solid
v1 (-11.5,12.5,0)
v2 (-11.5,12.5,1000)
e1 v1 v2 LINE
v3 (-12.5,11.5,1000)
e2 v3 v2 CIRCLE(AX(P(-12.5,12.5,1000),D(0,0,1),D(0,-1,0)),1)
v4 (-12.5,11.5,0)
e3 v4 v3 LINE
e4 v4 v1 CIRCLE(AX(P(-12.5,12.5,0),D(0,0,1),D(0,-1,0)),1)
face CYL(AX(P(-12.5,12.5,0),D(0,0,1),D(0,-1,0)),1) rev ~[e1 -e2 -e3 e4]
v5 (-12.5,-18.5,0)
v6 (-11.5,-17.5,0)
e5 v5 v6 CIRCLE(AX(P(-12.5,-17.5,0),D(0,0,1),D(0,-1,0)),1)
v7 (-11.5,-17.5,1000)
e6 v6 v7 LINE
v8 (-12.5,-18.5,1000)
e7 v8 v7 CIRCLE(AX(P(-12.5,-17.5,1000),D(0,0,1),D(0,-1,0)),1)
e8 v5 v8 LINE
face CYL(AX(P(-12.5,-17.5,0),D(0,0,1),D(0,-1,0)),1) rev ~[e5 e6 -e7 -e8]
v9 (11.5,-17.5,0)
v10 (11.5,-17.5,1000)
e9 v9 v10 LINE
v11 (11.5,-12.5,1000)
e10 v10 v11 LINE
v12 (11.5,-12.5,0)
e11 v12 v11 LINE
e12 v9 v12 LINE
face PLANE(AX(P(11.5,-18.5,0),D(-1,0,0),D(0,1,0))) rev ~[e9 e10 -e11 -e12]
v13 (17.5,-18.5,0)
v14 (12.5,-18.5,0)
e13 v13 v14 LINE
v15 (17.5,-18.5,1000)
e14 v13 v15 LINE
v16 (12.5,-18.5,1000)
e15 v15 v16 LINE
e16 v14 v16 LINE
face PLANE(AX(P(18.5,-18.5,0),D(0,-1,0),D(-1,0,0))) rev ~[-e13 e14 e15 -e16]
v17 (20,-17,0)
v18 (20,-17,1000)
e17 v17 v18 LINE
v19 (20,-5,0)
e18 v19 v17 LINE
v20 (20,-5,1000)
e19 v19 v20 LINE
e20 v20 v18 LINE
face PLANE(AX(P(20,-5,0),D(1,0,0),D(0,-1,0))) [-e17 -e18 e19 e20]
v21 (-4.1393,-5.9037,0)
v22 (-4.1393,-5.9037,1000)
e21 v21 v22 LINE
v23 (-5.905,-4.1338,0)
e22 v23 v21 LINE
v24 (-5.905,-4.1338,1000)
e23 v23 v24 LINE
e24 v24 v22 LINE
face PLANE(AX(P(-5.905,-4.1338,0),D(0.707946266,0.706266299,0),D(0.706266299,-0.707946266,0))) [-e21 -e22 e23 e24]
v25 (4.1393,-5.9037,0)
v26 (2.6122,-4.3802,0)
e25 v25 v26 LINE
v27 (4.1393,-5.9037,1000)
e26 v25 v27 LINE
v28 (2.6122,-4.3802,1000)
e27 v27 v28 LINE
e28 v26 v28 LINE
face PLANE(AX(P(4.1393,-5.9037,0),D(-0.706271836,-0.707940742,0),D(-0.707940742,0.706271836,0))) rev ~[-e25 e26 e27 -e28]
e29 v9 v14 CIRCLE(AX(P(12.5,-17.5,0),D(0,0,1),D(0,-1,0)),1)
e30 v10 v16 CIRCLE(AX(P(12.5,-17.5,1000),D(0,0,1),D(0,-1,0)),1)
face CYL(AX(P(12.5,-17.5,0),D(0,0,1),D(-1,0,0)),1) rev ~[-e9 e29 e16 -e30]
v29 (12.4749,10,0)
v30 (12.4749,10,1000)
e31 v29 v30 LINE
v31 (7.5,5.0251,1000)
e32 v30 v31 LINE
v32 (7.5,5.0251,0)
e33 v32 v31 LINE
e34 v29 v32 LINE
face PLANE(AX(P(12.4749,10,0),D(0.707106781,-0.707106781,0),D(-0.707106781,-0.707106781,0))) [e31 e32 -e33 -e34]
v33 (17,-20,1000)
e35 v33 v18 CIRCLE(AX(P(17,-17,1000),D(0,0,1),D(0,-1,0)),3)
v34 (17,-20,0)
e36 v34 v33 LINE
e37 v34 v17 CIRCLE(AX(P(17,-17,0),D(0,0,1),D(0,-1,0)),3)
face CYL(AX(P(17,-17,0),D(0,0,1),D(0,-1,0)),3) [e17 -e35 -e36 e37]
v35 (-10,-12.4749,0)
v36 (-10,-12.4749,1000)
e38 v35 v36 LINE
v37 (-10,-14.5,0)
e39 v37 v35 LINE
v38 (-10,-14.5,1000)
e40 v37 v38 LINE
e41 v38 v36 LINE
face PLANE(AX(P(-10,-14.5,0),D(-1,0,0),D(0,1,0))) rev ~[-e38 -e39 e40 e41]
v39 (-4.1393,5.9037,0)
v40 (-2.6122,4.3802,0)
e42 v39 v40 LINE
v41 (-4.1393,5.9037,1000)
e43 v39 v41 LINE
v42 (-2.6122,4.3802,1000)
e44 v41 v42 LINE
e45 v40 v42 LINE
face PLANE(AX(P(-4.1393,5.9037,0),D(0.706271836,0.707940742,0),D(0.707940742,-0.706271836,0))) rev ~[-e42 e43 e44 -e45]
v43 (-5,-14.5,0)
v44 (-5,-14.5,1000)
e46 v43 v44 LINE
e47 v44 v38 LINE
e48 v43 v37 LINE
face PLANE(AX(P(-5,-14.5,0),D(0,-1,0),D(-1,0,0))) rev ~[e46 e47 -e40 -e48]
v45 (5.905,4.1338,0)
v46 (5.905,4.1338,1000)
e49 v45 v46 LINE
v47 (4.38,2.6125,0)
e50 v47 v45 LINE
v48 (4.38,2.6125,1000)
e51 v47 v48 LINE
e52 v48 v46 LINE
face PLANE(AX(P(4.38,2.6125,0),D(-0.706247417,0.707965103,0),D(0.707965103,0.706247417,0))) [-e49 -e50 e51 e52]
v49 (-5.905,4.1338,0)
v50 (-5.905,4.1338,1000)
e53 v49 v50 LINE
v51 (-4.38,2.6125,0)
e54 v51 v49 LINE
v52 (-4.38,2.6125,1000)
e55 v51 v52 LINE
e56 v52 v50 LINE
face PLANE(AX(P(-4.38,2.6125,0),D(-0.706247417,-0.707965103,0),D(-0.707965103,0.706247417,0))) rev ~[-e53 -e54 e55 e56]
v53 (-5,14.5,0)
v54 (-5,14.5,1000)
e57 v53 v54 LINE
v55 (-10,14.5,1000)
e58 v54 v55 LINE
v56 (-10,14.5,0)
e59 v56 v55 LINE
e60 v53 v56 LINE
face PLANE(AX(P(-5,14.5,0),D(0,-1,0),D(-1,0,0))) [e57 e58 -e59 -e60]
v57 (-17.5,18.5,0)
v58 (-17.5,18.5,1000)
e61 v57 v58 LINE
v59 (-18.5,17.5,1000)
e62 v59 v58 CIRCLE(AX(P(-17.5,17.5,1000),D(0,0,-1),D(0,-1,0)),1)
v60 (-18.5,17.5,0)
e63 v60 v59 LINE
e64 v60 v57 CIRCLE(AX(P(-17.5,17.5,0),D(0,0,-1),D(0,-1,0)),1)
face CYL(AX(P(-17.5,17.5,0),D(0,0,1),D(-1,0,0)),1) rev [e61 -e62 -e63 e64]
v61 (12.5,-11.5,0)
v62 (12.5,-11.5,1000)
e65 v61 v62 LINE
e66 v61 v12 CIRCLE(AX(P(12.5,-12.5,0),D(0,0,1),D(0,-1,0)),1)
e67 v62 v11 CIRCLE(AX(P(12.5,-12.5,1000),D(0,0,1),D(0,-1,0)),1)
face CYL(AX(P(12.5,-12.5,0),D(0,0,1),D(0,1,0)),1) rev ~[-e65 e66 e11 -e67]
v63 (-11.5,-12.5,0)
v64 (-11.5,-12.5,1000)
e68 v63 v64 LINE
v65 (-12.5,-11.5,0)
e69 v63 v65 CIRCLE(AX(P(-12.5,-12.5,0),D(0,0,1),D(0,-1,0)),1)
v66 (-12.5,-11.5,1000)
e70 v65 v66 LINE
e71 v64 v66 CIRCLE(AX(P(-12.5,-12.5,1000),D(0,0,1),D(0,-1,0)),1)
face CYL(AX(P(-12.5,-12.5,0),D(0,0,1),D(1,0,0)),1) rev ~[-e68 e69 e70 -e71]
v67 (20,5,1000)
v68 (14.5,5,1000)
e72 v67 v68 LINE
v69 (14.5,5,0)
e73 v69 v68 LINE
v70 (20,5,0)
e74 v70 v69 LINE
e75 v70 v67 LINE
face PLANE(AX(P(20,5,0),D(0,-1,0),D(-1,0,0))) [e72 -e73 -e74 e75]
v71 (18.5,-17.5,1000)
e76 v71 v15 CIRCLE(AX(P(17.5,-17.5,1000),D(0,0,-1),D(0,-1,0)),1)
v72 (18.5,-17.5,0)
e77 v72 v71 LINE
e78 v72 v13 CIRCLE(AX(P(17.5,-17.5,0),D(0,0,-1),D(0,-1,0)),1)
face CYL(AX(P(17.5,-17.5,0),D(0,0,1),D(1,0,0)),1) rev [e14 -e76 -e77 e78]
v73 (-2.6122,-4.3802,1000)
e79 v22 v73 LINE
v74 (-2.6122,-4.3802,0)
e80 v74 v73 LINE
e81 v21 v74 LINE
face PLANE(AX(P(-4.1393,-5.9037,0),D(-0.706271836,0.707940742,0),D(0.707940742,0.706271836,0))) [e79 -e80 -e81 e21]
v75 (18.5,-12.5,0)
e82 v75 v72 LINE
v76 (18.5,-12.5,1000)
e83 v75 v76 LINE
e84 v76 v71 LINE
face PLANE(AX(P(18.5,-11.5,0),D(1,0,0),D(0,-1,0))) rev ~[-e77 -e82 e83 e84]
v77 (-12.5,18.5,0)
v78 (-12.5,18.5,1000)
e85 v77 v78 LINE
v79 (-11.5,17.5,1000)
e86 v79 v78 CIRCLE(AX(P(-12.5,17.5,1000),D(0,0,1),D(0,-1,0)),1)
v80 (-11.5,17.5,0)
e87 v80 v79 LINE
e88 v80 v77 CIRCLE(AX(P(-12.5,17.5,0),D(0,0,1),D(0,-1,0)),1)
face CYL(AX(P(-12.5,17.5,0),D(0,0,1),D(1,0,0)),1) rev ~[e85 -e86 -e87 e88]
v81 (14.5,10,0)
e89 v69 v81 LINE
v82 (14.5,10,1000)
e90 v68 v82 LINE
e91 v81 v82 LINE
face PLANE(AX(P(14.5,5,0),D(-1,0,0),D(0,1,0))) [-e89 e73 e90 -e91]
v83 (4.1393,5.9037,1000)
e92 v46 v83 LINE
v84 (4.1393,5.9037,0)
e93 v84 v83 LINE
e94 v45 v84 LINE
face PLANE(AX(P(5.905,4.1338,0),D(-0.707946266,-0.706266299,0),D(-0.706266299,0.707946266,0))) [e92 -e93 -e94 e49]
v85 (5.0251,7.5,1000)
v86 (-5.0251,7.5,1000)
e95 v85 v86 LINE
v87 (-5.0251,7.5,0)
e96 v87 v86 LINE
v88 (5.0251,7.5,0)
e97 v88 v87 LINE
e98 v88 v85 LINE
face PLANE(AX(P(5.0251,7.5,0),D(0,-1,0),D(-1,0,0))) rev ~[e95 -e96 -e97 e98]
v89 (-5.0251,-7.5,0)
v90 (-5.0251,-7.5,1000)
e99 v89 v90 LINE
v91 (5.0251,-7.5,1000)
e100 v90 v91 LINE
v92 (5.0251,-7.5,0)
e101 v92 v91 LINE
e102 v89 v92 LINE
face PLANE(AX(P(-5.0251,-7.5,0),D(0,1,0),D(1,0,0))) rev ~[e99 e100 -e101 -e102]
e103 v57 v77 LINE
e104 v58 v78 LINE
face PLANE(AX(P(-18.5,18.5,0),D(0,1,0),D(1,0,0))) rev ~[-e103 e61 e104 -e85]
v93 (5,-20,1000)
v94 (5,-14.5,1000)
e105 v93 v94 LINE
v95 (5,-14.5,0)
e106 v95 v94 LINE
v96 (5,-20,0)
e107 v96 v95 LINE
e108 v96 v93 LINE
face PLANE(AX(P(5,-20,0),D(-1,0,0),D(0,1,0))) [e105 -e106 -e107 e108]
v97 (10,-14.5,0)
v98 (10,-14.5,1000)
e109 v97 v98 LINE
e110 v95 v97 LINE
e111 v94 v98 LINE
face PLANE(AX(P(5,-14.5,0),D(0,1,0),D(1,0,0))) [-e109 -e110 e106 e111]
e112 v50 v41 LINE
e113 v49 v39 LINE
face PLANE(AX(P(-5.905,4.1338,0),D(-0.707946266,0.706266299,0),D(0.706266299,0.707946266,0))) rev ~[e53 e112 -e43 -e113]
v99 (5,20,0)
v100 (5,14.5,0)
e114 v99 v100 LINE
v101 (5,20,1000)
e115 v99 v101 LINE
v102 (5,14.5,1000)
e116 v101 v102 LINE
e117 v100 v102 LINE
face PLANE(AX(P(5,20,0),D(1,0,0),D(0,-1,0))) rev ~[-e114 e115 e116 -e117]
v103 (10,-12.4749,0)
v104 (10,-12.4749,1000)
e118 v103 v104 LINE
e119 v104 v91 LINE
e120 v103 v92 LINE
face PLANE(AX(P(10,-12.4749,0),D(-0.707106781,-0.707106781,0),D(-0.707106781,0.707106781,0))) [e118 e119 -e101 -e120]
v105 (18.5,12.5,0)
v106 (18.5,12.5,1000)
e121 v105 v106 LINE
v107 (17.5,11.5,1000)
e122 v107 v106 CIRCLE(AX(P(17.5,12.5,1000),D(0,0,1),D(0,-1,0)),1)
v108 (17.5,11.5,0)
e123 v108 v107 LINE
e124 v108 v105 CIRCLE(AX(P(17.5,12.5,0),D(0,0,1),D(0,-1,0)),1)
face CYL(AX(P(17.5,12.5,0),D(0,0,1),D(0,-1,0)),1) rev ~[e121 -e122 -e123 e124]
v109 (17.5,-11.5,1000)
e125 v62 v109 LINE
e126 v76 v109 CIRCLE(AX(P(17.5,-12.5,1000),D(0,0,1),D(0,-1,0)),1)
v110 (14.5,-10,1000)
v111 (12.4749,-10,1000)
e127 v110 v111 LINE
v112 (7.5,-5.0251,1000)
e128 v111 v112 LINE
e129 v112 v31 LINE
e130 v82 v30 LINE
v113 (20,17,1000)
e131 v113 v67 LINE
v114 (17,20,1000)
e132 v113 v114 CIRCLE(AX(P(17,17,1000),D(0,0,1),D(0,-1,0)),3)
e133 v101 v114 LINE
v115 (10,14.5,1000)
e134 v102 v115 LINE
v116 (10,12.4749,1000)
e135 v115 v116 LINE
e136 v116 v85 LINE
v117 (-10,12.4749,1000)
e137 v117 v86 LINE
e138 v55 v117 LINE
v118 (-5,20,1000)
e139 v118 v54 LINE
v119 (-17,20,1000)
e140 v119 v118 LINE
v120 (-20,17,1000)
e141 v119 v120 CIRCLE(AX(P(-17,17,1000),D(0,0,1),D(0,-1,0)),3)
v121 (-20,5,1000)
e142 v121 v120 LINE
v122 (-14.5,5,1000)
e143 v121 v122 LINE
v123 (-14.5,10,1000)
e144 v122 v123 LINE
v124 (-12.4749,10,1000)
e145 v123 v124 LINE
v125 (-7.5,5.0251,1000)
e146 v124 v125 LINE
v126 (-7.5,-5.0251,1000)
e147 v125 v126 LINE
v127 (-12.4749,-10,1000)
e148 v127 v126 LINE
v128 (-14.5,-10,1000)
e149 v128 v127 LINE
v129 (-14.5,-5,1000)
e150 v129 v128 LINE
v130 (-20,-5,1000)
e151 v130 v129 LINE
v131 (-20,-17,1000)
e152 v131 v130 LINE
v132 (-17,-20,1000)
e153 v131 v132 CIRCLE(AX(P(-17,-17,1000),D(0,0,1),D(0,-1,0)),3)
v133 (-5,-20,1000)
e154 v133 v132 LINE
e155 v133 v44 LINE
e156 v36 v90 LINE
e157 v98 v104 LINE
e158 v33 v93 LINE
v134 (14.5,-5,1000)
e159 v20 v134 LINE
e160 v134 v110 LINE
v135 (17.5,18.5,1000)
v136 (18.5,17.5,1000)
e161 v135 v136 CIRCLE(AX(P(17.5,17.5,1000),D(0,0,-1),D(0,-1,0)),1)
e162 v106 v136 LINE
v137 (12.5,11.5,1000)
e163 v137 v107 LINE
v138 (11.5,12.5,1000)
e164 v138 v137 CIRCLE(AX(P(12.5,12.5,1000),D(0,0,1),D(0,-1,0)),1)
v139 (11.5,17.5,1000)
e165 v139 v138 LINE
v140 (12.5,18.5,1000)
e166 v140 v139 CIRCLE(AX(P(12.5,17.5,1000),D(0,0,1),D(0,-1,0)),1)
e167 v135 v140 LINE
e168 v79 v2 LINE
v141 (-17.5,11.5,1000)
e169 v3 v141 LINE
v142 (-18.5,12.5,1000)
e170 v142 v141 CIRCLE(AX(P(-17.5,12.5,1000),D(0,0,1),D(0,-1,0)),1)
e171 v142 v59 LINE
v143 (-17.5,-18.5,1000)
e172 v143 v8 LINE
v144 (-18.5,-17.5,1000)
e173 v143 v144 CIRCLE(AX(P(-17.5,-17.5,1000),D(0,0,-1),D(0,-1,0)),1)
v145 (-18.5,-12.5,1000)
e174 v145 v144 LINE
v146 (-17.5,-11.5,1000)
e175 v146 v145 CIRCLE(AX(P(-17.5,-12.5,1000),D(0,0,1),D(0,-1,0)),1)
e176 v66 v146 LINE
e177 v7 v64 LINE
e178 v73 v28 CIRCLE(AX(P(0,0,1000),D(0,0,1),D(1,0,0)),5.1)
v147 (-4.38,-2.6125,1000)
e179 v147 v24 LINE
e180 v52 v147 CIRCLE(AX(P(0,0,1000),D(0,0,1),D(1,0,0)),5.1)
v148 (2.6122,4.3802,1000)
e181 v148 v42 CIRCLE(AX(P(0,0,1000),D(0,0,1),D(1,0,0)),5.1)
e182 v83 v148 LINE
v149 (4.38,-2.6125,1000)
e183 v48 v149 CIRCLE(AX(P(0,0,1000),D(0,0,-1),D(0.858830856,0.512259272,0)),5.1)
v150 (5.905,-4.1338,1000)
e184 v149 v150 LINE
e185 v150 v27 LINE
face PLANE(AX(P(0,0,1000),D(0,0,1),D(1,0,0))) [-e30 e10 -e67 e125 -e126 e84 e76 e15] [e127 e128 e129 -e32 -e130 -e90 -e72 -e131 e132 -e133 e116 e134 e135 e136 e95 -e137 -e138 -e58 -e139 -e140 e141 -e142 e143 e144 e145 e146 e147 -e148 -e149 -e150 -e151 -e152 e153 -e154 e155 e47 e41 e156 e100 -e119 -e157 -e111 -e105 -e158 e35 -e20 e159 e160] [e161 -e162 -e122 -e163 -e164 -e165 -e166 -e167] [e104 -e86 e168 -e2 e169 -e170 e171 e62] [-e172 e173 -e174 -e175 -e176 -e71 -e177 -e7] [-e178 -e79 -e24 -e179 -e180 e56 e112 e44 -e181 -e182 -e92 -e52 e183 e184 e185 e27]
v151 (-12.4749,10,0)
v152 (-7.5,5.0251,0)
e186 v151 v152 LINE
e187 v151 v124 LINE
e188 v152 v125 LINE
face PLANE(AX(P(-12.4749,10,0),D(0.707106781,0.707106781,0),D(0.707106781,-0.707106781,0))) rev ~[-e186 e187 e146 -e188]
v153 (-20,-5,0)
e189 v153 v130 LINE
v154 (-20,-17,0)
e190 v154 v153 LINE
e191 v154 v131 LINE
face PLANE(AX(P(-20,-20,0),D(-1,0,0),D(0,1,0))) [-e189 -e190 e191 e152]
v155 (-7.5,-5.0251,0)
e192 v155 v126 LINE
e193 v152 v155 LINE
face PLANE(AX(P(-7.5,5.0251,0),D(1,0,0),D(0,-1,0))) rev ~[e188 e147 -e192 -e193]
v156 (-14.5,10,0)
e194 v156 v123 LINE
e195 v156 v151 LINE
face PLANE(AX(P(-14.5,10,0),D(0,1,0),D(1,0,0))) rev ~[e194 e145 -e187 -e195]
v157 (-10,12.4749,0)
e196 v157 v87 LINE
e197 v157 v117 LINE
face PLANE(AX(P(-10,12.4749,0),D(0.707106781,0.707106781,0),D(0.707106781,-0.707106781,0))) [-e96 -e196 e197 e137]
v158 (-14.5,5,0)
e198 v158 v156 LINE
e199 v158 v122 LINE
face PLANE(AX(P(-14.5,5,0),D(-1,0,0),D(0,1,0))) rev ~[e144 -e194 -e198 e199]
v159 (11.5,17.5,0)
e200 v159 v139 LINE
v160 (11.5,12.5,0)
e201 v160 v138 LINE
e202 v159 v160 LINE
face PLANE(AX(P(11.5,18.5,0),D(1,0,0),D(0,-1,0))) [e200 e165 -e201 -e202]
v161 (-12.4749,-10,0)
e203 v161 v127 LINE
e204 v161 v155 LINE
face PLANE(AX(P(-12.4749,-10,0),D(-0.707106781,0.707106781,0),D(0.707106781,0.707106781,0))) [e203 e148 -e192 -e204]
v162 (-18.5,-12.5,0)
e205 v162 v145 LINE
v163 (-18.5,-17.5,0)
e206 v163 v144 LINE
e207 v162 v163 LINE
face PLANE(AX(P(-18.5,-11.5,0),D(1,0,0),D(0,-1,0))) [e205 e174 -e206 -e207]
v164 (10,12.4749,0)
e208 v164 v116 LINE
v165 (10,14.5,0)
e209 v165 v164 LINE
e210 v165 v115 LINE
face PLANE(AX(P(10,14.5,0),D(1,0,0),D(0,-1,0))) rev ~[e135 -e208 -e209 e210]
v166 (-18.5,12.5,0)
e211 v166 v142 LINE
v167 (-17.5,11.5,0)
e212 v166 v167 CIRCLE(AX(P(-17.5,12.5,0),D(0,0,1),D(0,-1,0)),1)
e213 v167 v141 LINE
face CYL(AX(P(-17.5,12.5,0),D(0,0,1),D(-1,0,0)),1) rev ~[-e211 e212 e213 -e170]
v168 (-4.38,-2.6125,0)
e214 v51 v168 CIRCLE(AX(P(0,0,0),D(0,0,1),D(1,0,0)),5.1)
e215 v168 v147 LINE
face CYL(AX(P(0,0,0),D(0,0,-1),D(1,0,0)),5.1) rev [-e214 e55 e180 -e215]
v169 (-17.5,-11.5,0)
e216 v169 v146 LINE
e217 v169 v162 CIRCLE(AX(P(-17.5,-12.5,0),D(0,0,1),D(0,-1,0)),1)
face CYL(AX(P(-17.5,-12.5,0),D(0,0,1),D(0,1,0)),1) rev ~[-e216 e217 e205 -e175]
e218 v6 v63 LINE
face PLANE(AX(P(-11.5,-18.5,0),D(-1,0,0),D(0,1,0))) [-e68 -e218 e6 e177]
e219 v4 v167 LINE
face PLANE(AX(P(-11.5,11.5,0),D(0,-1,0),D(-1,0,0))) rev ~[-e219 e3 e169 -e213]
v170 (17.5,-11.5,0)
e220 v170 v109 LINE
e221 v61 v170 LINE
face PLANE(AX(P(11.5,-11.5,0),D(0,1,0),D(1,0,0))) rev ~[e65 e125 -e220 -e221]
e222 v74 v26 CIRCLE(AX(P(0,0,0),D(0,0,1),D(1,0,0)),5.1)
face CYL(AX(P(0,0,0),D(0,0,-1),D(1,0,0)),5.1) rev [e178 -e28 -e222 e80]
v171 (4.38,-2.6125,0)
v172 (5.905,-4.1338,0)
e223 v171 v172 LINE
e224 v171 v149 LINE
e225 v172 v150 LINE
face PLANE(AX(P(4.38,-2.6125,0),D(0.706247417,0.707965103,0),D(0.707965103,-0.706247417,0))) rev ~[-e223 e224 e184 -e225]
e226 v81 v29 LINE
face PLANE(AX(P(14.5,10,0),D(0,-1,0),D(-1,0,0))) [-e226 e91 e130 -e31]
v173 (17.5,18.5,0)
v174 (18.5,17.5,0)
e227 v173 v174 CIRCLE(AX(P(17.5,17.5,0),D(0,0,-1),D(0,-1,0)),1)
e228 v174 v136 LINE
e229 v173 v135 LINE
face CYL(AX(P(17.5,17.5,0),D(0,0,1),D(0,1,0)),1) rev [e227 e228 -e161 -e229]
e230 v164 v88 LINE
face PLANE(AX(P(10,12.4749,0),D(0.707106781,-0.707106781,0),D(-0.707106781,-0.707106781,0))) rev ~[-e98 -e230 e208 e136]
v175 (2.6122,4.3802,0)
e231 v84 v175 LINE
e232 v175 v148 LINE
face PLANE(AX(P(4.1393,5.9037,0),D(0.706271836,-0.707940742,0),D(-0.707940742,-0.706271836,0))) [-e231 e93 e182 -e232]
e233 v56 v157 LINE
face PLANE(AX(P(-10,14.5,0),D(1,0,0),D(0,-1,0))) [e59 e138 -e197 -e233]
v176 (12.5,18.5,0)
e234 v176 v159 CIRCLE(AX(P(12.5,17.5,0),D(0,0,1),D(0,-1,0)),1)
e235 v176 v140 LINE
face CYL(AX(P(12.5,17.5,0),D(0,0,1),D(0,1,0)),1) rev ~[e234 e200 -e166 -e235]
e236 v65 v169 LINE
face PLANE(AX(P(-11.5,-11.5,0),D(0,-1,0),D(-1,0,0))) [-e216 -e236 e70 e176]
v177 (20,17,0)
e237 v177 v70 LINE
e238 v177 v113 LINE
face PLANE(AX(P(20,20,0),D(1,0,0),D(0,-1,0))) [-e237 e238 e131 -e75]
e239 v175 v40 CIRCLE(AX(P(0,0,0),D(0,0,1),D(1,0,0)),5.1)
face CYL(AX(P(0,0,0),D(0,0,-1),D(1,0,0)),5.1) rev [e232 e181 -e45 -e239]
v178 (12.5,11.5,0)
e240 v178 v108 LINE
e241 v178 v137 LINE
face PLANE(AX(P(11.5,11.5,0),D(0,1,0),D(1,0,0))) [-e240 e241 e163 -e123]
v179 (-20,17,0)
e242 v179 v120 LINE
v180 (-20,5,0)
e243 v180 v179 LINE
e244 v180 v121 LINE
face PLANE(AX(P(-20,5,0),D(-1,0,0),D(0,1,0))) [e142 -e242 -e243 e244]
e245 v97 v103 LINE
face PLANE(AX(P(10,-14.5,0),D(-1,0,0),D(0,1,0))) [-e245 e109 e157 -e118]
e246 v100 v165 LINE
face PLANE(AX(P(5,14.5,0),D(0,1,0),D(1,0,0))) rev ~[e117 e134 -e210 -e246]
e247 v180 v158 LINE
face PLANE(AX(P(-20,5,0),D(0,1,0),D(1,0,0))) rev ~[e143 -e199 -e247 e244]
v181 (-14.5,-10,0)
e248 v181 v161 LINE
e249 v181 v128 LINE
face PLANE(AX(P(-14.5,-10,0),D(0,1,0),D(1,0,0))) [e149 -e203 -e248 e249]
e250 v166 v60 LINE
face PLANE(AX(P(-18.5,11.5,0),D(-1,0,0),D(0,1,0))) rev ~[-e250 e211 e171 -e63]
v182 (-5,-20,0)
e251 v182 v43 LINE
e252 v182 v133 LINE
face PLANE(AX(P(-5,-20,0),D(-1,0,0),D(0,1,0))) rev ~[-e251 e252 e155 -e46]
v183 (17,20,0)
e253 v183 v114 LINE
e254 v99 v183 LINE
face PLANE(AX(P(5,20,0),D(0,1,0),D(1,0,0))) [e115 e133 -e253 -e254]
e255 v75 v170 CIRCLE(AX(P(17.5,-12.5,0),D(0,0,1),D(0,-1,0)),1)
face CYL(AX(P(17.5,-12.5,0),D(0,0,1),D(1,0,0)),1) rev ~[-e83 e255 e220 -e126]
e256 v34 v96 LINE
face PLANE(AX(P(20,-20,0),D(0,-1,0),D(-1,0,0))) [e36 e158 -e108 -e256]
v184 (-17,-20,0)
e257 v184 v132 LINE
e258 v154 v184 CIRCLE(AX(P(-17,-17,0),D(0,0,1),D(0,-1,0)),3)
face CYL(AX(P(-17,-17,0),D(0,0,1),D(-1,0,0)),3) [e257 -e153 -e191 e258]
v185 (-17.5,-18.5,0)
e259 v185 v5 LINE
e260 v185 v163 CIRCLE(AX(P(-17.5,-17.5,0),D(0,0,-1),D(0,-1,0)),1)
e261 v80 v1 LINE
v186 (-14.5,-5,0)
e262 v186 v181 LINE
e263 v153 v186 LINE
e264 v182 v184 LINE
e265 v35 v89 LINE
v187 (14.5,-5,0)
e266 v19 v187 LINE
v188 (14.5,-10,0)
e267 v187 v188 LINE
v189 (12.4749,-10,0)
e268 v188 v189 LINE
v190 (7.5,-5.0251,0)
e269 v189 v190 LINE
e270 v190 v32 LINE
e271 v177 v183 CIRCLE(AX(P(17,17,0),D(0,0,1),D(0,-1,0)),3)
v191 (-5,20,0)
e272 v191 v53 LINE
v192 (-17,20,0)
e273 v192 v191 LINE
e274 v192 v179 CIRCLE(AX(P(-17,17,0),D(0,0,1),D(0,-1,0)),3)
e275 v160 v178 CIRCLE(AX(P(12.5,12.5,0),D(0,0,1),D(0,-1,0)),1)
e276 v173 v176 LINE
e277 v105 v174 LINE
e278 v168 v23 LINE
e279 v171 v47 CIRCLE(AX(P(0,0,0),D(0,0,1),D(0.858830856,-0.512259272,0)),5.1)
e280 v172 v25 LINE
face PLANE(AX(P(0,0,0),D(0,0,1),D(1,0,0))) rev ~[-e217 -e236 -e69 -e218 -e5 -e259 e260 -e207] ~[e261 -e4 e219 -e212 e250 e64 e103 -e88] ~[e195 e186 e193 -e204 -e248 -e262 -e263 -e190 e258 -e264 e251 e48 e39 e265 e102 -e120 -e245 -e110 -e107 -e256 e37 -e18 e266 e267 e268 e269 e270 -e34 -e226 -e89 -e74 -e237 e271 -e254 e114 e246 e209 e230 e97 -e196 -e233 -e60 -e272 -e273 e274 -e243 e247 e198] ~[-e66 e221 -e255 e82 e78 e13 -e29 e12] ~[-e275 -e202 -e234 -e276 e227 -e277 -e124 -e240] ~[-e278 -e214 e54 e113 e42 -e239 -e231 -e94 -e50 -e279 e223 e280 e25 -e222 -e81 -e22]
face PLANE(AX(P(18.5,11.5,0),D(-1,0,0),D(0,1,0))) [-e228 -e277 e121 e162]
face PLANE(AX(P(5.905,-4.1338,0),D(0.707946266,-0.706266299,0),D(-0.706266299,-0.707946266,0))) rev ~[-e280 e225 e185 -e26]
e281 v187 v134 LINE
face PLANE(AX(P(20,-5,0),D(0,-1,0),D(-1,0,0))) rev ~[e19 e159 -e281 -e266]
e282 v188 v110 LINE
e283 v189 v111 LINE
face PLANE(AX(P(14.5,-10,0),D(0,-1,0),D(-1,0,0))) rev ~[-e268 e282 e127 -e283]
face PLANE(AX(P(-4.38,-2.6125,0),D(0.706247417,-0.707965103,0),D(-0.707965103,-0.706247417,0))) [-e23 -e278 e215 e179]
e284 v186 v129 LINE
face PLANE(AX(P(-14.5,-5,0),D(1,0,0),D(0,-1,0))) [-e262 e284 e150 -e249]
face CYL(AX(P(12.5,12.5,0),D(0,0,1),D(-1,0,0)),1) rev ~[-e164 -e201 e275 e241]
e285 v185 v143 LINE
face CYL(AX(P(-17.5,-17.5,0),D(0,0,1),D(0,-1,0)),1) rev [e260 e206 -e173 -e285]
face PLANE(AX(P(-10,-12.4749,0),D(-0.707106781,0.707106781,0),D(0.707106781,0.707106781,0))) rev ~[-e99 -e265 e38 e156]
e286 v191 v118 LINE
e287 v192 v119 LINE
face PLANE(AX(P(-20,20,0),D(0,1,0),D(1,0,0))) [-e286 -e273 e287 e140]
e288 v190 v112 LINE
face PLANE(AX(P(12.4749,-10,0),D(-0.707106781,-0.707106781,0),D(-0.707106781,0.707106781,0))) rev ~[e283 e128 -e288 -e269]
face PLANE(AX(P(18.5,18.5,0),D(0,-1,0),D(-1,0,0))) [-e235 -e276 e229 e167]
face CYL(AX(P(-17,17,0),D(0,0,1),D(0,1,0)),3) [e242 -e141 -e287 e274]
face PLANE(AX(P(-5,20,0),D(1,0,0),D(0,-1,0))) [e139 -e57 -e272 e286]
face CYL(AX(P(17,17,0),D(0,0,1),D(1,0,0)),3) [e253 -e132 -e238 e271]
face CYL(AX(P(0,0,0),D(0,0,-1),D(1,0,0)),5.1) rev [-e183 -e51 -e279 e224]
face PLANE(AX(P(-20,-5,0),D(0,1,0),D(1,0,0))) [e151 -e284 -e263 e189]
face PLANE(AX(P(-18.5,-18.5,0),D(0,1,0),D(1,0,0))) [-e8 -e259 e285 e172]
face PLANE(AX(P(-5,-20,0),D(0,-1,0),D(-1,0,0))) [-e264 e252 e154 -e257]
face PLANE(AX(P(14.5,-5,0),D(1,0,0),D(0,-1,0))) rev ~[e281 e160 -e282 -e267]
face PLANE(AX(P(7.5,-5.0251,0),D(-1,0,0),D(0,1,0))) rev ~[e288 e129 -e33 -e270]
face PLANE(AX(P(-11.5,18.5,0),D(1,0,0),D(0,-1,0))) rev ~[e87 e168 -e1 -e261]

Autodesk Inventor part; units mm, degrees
ref_plane "YZ Plane" through (0, 0, 0) normal (1, 0, 0) x (0, 1, 0)
ref_plane "XZ Plane" through (0, 0, 0) normal (0, 1, 0) x (-1, 0, 0)
ref_plane "XY Plane" through (0, 0, 0) normal (0, 0, 1) x (1, 0, 0)
sketch "T-Slot 4040 Base" plane through (0, 0, 0) normal (0, 0, 1) x (1, 0, 0)
  line L0 (-28, 0) -> (28, 0) construction
  line L1 (0, -28) -> (0, 28) construction
  circle A0 centre (0, 0) radius 5.1
  line L2 (-7.5, -7.5) -> (7.5, -7.5)
  line L3 (7.5, -7.5) -> (7.5, 7.5)
  line L4 (7.5, 7.5) -> (-7.5, 7.5)
  line L5 (-7.5, 7.5) -> (-7.5, -7.5)
  line L6 (-7.5, -7.5) -> (7.5, 7.5) construction
  line L7 (7.5, -7.5) -> (-7.5, 7.5) construction
  line L8 (-20, 20) -> (20, 20)
  line L9 (20, 20) -> (20, -20)
  line L10 (20, -20) -> (-20, -20)
  line L11 (-20, -20) -> (-20, 20)
  line L12 (-20, 20) -> (20, -20) construction
  line L13 (20, 20) -> (-20, -20) construction
  line L14 (20, 5) -> (14.5, 5)
  line L15 (14.5, 5) -> (14.5, 10)
  line L16 (14.5, 10) -> (12.4749, 10)
  line L17 (12.4749, 10) -> (7.5, 5.0251)
  line L18 (5, 20) -> (5, 14.5)
  line L19 (5, 14.5) -> (10, 14.5)
  line L20 (10, 14.5) -> (10, 12.4749)
  line L21 (10, 12.4749) -> (5.0251, 7.5)
  line L22 (18.5, 18.5) -> (11.5, 18.5)
  line L23 (11.5, 18.5) -> (11.5, 11.5)
  line L24 (11.5, 11.5) -> (18.5, 11.5)
  line L25 (18.5, 11.5) -> (18.5, 18.5)
  line L26 (18.5, 18.5) -> (11.5, 11.5) construction
  line L27 (11.5, 18.5) -> (18.5, 11.5) construction
  line L28 (3.0732, 1.3088) -> (4.38, 2.6125) construction
  line L29 (5.905, 4.1338) -> (4.1393, 5.9037)
  line L30 (4.1393, 5.9037) -> (2.6122, 4.3802)
  line L31 (1.3075, 3.0787) -> (3.0732, 1.3088) construction
  line L32 (3.0732, 1.3088) -> (4.1393, 5.9037) construction
  line L33 (5.905, 4.1338) -> (1.3075, 3.0787) construction
  line L34 (4.38, 2.6125) -> (5.905, 4.1338)
  line L35 (2.6122, 4.3802) -> (1.3075, 3.0787) construction
  line L36 (-20, 5) -> (-14.5, 5)
  line L37 (-14.5, 5) -> (-14.5, 10)
  line L38 (-14.5, 10) -> (-12.4749, 10)
  line L39 (-12.4749, 10) -> (-7.5, 5.0251)
  line L40 (-5, 20) -> (-5, 14.5)
  line L41 (-5, 14.5) -> (-10, 14.5)
  line L42 (-10, 14.5) -> (-10, 12.4749)
  line L43 (-10, 12.4749) -> (-5.0251, 7.5)
  line L44 (-18.5, 18.5) -> (-11.5, 18.5)
  line L45 (-11.5, 18.5) -> (-11.5, 11.5)
  line L46 (-11.5, 11.5) -> (-18.5, 11.5)
  line L47 (-18.5, 11.5) -> (-18.5, 18.5)
  line L48 (-5.905, 4.1338) -> (-4.1393, 5.9037)
  line L49 (-4.1393, 5.9037) -> (-2.6122, 4.3802)
  line L50 (-4.38, 2.6125) -> (-5.905, 4.1338)
  line L51 (7.5, -7.5) -> (-7.5, -7.5)
  line L52 (20, -5) -> (14.5, -5)
  line L53 (14.5, -5) -> (14.5, -10)
  line L54 (14.5, -10) -> (12.4749, -10)
  line L55 (12.4749, -10) -> (7.5, -5.0251)
  line L56 (5, -20) -> (5, -14.5)
  line L57 (5, -14.5) -> (10, -14.5)
  line L58 (10, -14.5) -> (10, -12.4749)
  line L59 (10, -12.4749) -> (5.0251, -7.5)
  line L60 (18.5, -18.5) -> (11.5, -18.5)
  line L61 (11.5, -18.5) -> (11.5, -11.5)
  line L62 (11.5, -11.5) -> (18.5, -11.5)
  line L63 (18.5, -11.5) -> (18.5, -18.5)
  line L64 (18.5, -18.5) -> (11.5, -11.5) construction
  line L65 (11.5, -18.5) -> (18.5, -11.5) construction
  line L66 (3.0732, -1.3088) -> (4.38, -2.6125) construction
  line L67 (5.905, -4.1338) -> (4.1393, -5.9037)
  line L68 (4.1393, -5.9037) -> (2.6122, -4.3802)
  line L69 (1.3075, -3.0787) -> (3.0732, -1.3088) construction
  line L70 (3.0732, -1.3088) -> (4.1393, -5.9037) construction
  line L71 (5.905, -4.1338) -> (1.3075, -3.0787) construction
  line L72 (4.38, -2.6125) -> (5.905, -4.1338)
  line L73 (2.6122, -4.3802) -> (1.3075, -3.0787) construction
  line L74 (-4.38, -2.6125) -> (-5.905, -4.1338)
  line L75 (-4.1393, -5.9037) -> (-2.6122, -4.3802)
  line L76 (-5.905, -4.1338) -> (-4.1393, -5.9037)
  line L77 (-12.4749, -10) -> (-7.5, -5.0251)
  line L78 (-10, -12.4749) -> (-5.0251, -7.5)
  line L79 (-10, -14.5) -> (-10, -12.4749)
  line L80 (-5, -14.5) -> (-10, -14.5)
  line L81 (-5, -20) -> (-5, -14.5)
  line L82 (-18.5, -18.5) -> (-11.5, -18.5)
  line L83 (-11.5, -18.5) -> (-11.5, -11.5)
  line L84 (-11.5, -11.5) -> (-18.5, -11.5)
  line L85 (-18.5, -11.5) -> (-18.5, -18.5)
  line L86 (-14.5, -10) -> (-12.4749, -10)
  line L87 (-14.5, -5) -> (-14.5, -10)
  line L88 (-20, -5) -> (-14.5, -5)
  point P0 (15, 15)
  point P1 (3.6062, 3.6062)
  point P2 (3.6062, 3.6062)
  point P3 (15, -15)
  point P4 (3.6062, -3.6062)
  point P5 (3.6062, -3.6062)
  dimension "d9" = 10.2
  dimension "d12" = 40
  dimension "d13" = 40
  dimension "d14" = 5.5
  dimension "d15" = 15
  dimension "d16" = 7
  dimension "d17" = 10
  dimension "d20" = 1.75
  dimension "d21" = 7
  dimension "d22" = 2
  dimension "d29" = 1.5
  dimension "d30" = 2.5
extrude "Extrusion1" add sketch "T-Slot 4040 Base" along normal blind 1000 contours L5 L4 L3 L2 | L2 L78 L79 L80 L81 L10 L11 L88 L87 L86 L77 L5 | L2 L3 L55 L54 L53 L52 L9 L10 L56 L57 L58 L59 | L39 L38 L37 L36 L11 L8 L40 L41 L42 L43 L4 L5 | L3 L4 L21 L20 L19 L18 L8 L9 L14 L15 L16 L17
fillet "Rundung1" radius 1 16 edges at (11.5, 18.5, 500) (18.5, 18.5, 500) (18.5, 11.5, 500) (11.5, 11.5, 500) (-11.5, 18.5, 500) (-18.5, 18.5, 500) (-18.5, 11.5, 500) (-11.5, 11.5, 500) (-18.5, -11.5, 500) (-11.5, -11.5, 500) (-11.5, -18.5, 500) (-18.5, -18.5, 500) (11.5, -18.5, 500) (11.5, -11.5, 500) (18.5, -11.5, 500) (18.5, -18.5, 500)
fillet "Rundung2" radius 3 4 edges at (20, 20, 500) (20, -20, 500) (-20, -20, 500) (-20, 20, 500)
properties part number "T-SLOT 4040 B-Type 1000mm"
